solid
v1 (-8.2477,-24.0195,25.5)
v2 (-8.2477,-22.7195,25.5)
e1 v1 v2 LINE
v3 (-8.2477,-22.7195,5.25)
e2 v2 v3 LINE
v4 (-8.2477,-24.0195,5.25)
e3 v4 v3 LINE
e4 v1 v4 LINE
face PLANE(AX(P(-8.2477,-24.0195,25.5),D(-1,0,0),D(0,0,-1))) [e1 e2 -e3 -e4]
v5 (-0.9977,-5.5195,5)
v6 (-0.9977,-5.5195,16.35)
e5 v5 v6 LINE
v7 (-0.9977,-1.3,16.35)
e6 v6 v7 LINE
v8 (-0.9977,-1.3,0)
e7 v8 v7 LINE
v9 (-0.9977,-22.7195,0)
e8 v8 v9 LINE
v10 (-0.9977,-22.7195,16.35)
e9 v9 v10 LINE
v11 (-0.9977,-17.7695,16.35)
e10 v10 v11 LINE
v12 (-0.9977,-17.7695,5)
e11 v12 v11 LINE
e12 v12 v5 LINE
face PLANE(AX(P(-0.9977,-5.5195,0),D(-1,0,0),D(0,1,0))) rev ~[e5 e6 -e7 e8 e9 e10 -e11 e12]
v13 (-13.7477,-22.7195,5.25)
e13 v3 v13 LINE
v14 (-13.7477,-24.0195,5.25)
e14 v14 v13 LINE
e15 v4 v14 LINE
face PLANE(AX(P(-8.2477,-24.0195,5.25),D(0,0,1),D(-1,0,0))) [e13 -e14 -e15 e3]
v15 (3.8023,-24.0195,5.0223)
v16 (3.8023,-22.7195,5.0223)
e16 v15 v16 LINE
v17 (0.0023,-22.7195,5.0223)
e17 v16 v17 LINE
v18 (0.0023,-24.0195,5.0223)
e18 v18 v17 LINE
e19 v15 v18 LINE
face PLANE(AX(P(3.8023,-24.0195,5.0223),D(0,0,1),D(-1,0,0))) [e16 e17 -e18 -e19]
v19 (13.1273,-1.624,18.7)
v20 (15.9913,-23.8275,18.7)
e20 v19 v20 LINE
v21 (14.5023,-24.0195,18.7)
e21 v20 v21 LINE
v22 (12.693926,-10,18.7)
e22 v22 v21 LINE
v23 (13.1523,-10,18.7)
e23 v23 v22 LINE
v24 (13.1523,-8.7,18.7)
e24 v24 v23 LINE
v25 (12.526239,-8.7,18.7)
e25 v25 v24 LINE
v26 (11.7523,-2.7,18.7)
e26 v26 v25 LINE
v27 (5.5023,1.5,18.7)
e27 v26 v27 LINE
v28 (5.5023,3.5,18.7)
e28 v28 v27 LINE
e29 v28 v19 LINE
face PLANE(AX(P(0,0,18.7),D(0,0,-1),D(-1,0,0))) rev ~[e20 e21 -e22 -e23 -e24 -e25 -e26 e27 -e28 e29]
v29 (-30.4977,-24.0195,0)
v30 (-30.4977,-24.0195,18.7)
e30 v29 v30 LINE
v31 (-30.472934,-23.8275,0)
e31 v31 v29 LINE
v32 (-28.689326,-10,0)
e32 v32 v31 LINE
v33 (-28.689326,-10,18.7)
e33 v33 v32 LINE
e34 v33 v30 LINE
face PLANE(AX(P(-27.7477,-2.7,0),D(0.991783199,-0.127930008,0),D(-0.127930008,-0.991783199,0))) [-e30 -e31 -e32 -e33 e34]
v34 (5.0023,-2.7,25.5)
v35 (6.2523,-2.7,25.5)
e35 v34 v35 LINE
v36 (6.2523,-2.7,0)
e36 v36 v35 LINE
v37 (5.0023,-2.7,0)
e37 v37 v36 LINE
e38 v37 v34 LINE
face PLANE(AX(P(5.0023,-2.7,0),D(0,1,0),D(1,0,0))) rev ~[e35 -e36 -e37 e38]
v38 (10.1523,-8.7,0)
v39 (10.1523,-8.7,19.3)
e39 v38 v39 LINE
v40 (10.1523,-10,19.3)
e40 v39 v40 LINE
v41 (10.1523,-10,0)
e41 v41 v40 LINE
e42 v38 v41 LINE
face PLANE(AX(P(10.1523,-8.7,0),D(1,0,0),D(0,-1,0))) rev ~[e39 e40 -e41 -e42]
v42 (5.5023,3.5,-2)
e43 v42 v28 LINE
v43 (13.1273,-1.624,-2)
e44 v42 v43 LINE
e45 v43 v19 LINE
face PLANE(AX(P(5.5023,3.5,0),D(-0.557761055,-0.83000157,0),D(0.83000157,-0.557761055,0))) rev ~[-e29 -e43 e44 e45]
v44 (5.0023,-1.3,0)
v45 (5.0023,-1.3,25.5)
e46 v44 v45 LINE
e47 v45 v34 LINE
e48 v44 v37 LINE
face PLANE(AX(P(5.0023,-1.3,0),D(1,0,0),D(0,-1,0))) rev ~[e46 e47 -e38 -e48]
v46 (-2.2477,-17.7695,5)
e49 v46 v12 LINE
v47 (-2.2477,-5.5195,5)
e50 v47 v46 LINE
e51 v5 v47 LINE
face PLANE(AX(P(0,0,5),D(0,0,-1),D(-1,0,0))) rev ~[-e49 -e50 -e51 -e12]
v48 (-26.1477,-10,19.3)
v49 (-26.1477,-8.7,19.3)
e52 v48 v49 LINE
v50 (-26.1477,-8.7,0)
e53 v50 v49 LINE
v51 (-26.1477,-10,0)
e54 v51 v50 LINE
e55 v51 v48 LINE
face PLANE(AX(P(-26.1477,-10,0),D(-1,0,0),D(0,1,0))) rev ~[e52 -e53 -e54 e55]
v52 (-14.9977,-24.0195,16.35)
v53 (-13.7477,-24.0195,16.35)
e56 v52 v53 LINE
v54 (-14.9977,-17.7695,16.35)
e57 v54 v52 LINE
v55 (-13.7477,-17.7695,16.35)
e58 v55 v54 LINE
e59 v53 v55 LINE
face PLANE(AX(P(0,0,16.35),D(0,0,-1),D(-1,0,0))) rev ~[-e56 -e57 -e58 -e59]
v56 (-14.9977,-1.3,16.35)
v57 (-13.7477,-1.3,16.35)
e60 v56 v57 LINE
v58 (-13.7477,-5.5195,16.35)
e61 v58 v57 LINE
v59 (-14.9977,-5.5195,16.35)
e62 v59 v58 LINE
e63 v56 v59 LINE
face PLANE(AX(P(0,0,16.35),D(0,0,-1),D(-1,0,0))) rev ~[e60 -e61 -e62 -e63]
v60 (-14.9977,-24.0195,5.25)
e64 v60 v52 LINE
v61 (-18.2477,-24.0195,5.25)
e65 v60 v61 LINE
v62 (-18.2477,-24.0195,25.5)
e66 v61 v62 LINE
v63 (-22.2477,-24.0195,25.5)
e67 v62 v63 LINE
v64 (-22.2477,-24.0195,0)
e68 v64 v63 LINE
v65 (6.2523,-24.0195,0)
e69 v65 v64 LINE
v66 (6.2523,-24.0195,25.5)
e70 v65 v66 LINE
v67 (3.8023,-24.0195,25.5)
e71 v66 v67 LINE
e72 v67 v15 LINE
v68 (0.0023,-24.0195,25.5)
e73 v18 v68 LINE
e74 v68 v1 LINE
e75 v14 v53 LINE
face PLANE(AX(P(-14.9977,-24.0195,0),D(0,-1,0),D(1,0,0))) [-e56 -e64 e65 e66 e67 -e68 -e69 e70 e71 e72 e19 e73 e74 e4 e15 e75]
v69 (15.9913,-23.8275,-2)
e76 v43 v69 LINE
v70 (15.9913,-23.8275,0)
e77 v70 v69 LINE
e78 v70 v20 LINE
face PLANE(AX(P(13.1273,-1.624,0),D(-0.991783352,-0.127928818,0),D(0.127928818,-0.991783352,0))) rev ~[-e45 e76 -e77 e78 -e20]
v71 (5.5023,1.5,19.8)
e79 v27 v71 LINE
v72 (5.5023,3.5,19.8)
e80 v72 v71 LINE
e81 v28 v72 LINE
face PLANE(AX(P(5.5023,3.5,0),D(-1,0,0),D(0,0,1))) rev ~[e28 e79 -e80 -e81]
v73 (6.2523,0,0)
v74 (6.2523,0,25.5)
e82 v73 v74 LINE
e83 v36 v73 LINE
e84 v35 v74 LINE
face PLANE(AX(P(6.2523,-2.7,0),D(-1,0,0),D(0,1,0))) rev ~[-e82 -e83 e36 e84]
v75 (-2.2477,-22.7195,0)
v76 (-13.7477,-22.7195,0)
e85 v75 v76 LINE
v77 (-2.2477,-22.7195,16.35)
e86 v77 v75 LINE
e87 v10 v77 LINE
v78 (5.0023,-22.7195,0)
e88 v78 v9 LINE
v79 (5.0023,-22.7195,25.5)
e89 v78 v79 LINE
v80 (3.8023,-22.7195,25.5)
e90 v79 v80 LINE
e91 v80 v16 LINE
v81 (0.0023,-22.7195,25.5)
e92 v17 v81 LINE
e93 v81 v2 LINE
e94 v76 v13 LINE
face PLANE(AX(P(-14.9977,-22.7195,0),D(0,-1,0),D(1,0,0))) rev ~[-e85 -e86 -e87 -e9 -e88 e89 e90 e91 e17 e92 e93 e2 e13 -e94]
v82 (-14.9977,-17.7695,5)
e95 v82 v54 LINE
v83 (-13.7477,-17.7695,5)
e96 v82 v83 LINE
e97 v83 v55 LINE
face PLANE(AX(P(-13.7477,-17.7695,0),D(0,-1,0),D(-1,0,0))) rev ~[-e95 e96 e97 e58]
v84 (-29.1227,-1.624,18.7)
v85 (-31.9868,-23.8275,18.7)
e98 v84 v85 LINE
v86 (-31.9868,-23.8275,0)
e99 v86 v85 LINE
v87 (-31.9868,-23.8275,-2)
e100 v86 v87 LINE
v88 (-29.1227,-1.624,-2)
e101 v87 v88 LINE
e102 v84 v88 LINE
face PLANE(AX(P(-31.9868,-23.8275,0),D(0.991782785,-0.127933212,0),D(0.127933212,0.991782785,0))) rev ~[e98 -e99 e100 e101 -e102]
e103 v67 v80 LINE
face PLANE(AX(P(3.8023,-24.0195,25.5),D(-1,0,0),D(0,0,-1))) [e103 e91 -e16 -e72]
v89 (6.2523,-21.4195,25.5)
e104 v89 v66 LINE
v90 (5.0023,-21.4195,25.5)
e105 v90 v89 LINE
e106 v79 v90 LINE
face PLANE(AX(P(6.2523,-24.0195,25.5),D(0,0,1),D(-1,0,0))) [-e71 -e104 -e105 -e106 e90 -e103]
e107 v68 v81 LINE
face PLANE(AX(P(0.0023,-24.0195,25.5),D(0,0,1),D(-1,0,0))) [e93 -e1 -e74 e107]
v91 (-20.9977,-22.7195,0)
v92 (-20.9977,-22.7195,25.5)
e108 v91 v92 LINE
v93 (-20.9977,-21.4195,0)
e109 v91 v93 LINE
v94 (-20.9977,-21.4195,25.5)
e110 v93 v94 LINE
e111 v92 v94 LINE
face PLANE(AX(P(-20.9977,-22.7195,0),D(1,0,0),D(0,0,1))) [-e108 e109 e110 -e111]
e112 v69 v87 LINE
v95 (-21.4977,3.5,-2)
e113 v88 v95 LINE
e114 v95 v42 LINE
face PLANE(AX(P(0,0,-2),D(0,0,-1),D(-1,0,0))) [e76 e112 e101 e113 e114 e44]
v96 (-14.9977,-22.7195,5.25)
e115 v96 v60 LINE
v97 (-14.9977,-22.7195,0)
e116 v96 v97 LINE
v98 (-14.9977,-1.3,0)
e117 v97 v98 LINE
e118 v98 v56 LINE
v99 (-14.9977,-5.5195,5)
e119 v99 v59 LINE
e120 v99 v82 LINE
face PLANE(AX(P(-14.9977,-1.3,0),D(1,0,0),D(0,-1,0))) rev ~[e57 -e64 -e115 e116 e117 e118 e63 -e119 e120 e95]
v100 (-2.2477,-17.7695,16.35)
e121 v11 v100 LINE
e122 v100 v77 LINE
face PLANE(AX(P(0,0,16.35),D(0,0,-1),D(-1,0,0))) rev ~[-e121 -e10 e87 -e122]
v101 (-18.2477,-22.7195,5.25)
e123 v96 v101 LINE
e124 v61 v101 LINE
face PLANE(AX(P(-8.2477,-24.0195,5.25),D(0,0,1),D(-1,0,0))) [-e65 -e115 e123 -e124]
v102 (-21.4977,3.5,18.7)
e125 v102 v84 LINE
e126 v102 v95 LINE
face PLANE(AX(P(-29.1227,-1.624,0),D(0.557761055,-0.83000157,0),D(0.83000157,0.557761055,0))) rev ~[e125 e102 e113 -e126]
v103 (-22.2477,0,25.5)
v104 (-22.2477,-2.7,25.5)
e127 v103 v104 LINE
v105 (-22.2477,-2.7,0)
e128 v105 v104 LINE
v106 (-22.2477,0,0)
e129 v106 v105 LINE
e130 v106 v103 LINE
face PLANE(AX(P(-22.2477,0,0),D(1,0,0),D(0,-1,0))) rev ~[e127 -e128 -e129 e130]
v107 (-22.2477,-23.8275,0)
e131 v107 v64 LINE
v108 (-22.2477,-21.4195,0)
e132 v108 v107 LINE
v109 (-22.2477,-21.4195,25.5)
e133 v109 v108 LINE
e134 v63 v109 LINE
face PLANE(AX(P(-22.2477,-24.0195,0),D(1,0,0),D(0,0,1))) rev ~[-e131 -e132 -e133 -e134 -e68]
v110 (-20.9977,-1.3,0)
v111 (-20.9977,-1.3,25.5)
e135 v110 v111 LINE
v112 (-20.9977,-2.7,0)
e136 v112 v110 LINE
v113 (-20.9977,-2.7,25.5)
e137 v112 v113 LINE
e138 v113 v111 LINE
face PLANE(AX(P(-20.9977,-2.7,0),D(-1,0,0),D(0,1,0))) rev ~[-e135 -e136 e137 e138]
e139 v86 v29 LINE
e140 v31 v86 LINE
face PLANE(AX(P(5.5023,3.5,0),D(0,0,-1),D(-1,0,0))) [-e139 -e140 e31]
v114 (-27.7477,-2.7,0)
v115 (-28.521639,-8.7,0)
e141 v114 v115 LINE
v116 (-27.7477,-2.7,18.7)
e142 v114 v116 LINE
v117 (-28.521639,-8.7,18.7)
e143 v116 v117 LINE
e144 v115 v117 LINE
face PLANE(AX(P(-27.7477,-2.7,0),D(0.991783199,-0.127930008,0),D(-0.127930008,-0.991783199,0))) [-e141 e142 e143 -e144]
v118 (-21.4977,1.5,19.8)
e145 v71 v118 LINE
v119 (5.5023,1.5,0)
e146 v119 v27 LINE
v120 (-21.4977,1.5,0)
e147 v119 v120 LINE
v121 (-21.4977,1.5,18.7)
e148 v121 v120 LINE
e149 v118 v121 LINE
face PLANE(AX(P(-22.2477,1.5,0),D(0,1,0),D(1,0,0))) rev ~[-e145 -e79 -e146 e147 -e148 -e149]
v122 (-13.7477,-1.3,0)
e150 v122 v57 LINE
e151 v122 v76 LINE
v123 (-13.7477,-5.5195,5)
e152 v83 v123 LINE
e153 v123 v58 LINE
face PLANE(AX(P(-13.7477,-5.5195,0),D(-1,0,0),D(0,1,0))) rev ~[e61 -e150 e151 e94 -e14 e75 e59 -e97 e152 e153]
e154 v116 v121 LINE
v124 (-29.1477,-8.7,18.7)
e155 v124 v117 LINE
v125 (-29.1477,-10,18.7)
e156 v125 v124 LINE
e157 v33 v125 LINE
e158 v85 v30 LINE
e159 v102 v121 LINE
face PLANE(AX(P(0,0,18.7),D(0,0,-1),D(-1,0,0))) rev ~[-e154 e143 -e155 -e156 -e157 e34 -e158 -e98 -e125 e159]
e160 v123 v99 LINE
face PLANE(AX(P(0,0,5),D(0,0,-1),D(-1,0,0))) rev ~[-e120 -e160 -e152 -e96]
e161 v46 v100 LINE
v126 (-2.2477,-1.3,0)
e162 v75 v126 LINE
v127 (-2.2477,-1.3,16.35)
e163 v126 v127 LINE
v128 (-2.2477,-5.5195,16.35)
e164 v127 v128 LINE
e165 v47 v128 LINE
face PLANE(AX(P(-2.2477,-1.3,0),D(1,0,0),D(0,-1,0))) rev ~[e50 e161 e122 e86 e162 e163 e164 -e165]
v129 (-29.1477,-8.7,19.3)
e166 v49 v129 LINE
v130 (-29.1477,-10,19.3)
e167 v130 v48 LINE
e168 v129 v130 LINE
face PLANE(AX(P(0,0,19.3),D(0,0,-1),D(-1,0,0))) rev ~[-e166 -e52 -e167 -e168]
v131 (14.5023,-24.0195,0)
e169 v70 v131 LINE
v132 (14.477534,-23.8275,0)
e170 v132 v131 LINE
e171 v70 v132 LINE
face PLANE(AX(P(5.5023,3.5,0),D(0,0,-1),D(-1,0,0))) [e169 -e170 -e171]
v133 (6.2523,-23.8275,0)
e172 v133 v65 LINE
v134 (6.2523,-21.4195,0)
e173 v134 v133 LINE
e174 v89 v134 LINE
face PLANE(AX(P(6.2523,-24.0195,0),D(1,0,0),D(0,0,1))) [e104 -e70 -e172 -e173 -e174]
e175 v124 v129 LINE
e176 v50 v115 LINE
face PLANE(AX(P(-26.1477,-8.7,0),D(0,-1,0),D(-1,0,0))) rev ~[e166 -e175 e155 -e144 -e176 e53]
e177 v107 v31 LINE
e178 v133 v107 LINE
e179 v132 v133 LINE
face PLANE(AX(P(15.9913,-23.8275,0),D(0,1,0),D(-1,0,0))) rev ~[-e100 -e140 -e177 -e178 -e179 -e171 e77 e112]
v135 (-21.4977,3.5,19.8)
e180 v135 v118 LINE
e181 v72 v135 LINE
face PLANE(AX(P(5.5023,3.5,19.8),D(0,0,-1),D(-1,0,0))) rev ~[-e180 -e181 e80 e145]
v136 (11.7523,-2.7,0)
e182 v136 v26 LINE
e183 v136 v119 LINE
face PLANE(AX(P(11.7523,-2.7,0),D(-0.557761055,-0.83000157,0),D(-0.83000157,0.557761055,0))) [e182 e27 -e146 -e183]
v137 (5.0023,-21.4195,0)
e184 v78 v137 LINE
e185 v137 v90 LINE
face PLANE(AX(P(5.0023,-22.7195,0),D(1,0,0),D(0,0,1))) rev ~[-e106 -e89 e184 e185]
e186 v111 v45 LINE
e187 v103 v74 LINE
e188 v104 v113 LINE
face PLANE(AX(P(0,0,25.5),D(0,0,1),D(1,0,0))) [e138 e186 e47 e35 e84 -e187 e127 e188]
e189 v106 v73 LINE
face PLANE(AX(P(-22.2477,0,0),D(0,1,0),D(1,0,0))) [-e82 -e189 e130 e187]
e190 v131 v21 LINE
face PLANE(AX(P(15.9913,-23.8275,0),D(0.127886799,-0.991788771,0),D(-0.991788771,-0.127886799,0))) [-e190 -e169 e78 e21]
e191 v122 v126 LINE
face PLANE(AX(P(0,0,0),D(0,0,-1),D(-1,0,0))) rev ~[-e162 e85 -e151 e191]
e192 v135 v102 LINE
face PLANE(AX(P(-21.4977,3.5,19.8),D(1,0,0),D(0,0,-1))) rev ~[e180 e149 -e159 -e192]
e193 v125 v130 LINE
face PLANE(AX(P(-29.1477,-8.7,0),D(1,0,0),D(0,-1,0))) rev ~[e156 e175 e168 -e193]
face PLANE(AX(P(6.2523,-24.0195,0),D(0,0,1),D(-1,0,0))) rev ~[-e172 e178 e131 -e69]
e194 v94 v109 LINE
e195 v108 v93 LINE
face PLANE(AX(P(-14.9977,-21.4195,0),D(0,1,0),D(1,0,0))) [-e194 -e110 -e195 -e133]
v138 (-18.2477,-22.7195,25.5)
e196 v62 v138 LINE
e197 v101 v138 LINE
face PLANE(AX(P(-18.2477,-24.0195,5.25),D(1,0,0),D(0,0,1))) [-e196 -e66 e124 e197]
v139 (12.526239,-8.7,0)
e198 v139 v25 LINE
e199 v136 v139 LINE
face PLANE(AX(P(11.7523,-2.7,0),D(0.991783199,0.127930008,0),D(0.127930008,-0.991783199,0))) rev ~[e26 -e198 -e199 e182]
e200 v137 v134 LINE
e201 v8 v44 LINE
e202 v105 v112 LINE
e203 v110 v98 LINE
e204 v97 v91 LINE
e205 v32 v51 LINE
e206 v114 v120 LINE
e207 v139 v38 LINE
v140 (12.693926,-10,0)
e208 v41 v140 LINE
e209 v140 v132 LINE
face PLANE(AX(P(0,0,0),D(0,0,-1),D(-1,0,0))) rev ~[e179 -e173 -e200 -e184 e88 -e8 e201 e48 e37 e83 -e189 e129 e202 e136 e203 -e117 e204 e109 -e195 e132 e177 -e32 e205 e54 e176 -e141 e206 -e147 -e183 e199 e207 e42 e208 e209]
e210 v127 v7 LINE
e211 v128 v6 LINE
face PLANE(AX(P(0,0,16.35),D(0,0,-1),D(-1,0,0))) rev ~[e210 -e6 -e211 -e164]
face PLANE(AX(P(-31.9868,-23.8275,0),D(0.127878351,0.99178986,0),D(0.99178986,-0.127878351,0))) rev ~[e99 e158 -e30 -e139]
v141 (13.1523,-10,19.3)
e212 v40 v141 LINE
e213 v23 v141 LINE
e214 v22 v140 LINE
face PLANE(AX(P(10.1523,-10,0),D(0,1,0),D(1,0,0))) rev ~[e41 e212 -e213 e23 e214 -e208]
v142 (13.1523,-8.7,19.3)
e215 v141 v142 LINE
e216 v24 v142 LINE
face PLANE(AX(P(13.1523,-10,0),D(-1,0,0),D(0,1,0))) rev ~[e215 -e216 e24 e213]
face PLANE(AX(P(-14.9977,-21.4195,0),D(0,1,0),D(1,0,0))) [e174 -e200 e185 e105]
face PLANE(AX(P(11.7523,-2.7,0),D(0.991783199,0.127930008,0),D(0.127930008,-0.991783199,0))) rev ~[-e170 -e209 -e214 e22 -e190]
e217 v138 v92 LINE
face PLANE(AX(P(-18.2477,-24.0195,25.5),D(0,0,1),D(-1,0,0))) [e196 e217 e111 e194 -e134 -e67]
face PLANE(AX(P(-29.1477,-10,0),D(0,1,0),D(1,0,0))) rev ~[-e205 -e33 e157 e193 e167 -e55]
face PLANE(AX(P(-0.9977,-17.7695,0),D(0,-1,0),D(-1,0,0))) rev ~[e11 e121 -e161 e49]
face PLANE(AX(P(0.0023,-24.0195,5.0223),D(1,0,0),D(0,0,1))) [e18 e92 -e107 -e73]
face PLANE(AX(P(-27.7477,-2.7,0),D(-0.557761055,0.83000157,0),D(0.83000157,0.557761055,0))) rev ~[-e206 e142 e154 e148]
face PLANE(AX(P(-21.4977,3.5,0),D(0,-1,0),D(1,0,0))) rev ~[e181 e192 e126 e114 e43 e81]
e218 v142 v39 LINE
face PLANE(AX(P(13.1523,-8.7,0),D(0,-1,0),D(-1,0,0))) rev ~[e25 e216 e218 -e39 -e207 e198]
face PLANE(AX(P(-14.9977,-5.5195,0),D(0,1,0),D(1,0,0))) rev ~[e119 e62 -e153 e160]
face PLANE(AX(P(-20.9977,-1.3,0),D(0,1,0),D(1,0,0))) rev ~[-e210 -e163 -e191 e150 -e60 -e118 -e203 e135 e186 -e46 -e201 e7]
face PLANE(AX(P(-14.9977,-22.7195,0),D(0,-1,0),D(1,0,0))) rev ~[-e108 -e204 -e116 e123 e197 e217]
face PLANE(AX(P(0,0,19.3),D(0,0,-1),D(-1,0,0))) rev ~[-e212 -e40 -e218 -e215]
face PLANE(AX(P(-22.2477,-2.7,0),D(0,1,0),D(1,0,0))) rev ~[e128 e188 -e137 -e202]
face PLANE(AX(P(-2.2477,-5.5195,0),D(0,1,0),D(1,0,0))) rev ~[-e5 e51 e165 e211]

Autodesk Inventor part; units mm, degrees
ref_plane "YZ Plane" through (0, 0, 0) normal (1, 0, 0) x (0, 1, 0)
ref_plane "XZ Plane" through (0, 0, 0) normal (0, 1, 0) x (-1, 0, 0)
ref_plane "XY Plane" through (0, 0, 0) normal (0, 0, 1) x (1, 0, 0)
sketch "Skizze1" plane through (0, 0, 0) normal (0, 0, 1) x (1, 0, 0)
  line L0 (-20.9977, -1.3) -> (5.0023, -1.3)
  line L1 (-22.2477, 0) -> (6.2523, 0)
  line L2 (-22.2477, 0) -> (-22.2477, -2.7)
  line L3 (-22.2477, -2.7) -> (-20.9977, -2.7)
  line L4 (-20.9977, -2.7) -> (-20.9977, -1.3)
  line L5 (5.0023, -1.3) -> (5.0023, -2.7)
  line L6 (5.0023, -2.7) -> (6.2523, -2.7)
  line L7 (6.2523, -2.7) -> (6.2523, 0)
  point P0 (0, 0)
  dimension "d0" = 26
  dimension "d1" = 28.5
  dimension "d2" = 1.25
  dimension "d33" = 1.3
  dimension "d37" = 2.7
  dimension "d38" = 2.7
  dimension "d39" = 0
extrude "Extrusion1" add sketch "Skizze1" along normal blind 25.5
sketch "Skizze2" plane through (0, 0, 0) normal (0, 0, -1) x (-1, 0, 0)
  line L0 (20.9977, -1.3) -> (-5.0023, -1.3) projected
  line L1 (20.9977, -2.7) -> (20.9977, -1.3) projected
  line L2 (-5.0023, -1.3) -> (-5.0023, -2.7) projected
  line L3 (0.9977, -1.3) -> (2.2477, -1.3)
  line L4 (2.2477, -1.3) -> (2.2477, -5.5195)
  line L5 (2.2477, -5.5195) -> (0.9977, -5.5195)
  line L6 (0.9977, -5.5195) -> (0.9977, -1.3)
  line L7 (13.7477, -1.3) -> (14.9977, -1.3)
  line L8 (14.9977, -1.3) -> (14.9977, -5.5195)
  line L9 (14.9977, -5.5195) -> (13.7477, -5.5195)
  line L10 (13.7477, -5.5195) -> (13.7477, -1.3)
  point P0 (0, 0)
  dimension "d5" = 11.5
  dimension "d6" = 1.25
  dimension "d7" = 1.25
  dimension "d8" = 6
  dimension "d9" = 6
extrude "Extrusion2" add sketch "Skizze2" against normal blind 16.35
sketch "Skizze3" plane through (0, 0, 0) normal (0, 0, -1) x (-1, 0, 0)
  line L0 (0.9977, -5.5195) -> (2.2477, -5.5195)
  line L1 (2.2477, -5.5195) -> (2.2477, -17.7695)
  line L2 (2.2477, -17.7695) -> (0.9977, -17.7695)
  line L3 (0.9977, -17.7695) -> (0.9977, -5.5195)
  line L4 (13.7477, -5.5195) -> (14.9977, -5.5195)
  line L5 (14.9977, -5.5195) -> (14.9977, -17.7695)
  line L6 (14.9977, -17.7695) -> (13.7477, -17.7695)
  line L7 (13.7477, -17.7695) -> (13.7477, -5.5195)
  point P0 (0, 0)
  dimension "d12" = 12.25
  dimension "d15" = 12.25
extrude "Extrusion3" add sketch "Skizze3" against normal blind 5
sketch "Skizze4" plane through (0, 0, 0) normal (0, 0, -1) x (-1, 0, 0)
  line L0 (0.9977, -17.7695) -> (2.2477, -17.7695)
  line L1 (2.2477, -17.7695) -> (2.2477, -24.0195)
  line L2 (2.2477, -24.0195) -> (0.9977, -24.0195)
  line L3 (0.9977, -24.0195) -> (0.9977, -17.7695)
  line L4 (13.7477, -17.7695) -> (14.9977, -17.7695)
  line L5 (14.9977, -17.7695) -> (14.9977, -24.0195)
  line L6 (14.9977, -24.0195) -> (13.7477, -24.0195)
  line L7 (13.7477, -24.0195) -> (13.7477, -17.7695)
  point P0 (0, 0)
  dimension "d16" = 6.25
  dimension "d17" = 6.25
extrude "Extrusion4" add sketch "Skizze4" against normal blind 16.35
sketch "Skizze5" plane through (-14.9977, -24.0195, 0) normal (0, -1, 0) x (1, 0, 0)
  line L0 (-7.25, 0) -> (-7.25, 25.5) projected
  line L1 (21.25, 0) -> (21.25, 25.5) projected
  line L2 (-7.25, 25.5) -> (-7.25, 0)
  line L3 (21.25, 0) -> (-7.25, 0)
  line L4 (21.25, 0) -> (21.25, 25.5)
  line L5 (21.25, 25.5) -> (18.8, 25.5)
  line L6 (18.8, 25.5) -> (18.8, 5.0223)
  line L7 (18.8, 5.0223) -> (15, 5.0223)
  line L8 (15, 5.0223) -> (15, 25.5)
  line L9 (15, 25.5) -> (6.75, 25.5)
  line L10 (6.75, 25.5) -> (6.75, 5.25)
  line L11 (6.75, 5.25) -> (-3.25, 5.25)
  line L12 (-3.25, 5.25) -> (-3.25, 25.5)
  line L13 (-3.25, 25.5) -> (-7.25, 25.5)
  point P0 (14.9977, 0)
  dimension "d20" = 5.25
  dimension "d21" = 8.25
  dimension "d22" = 3.8
  dimension "d23" = 10
  dimension "d24" = 4
  dimension "d25" = 2.45
extrude "Extrusion5" add sketch "Skizze5" against normal blind 1.3
sketch "Skizze6" plane through (-14.9977, -22.7195, 0) normal (0, 1, 0) x (1, 0, 0)
  line L0 (-3.25, -25.5) -> (-7.25, -25.5) projected
  line L1 (14, 0) -> (21.25, 0) projected
  line L2 (21.25, -25.5) -> (21.25, 0)
  line L3 (-7.25, 0) -> (-6, 0)
  line L4 (-6, 0) -> (-6, -25.5)
  line L5 (-6, -25.5) -> (-7.25, -25.5)
  line L6 (-7.25, -25.5) -> (-7.25, 0)
  line L7 (21.25, 0) -> (20, 0)
  line L8 (20, 0) -> (20, -25.5)
  line L9 (20, -25.5) -> (21.25, -25.5)
  line L10 (21.25, -25.5) -> (21.25, 0)
  point P0 (14.9977, 0)
  point P1 (18.8, -25.5)
  dimension "d28" = 1.25
  dimension "d30" = 1.25
extrude "Extrusion6" add sketch "Skizze6" along normal blind 1.3
sketch "Skizze7" plane through (0, 0, 0) normal (0, 0, -1) x (-1, 0, 0)
  line L0 (22.2477, 0) -> (22.2477, -2.7) projected
  line L1 (-6.2523, -2.7) -> (-6.2523, 0) projected
  line L2 (-13.1523, -8.7) -> (-10.1523, -8.7)
  line L3 (-10.1523, -8.7) -> (-10.1523, -10)
  line L4 (-10.1523, -10) -> (-13.1523, -10)
  line L5 (-13.1523, -10) -> (-13.1523, -8.7)
  line L6 (26.1477, -8.7) -> (29.1477, -8.7)
  line L7 (29.1477, -8.7) -> (29.1477, -10)
  line L8 (29.1477, -10) -> (26.1477, -10)
  line L9 (26.1477, -10) -> (26.1477, -8.7)
  line L10 (22.2477, -2.7) -> (20.9977, -2.7) projected
  line L11 (-5.0023, -2.7) -> (-6.2523, -2.7) projected
  point P0 (0, 0)
  dimension "d40" = 3.9
  dimension "d41" = 3.9
  dimension "d42" = 1.3
  dimension "d43" = 3
  dimension "d44" = 3
  dimension "d45" = 1.3
  dimension "d68" = 6
  dimension "d69" = 6
extrude "Extrusion7" add sketch "Skizze7" against normal blind 19.3
ref_plane "Arbeitsebene1" through (-22.2477, 3.5, 0) normal (0, 1, 0) x (1, 0, 0)
sketch "Skizze9" plane through (-22.2477, 3.5, 0) normal (0, 1, 0) x (1, 0, 0)
  line L0 (28.5, 0) -> (28.5, -25.5)
  line L1 (28.5, 0) -> (0, 0)
  line L2 (0, 0) -> (0, -25.5)
  line L3 (0.75, 0) -> (27.75, 0)
  line L4 (27.75, 0) -> (27.75, -19.8)
  line L5 (27.75, -19.8) -> (0.75, -19.8)
  line L6 (0.75, -19.8) -> (0.75, 0)
  point P0 (22.2477, 0)
  point P1 (22.2477, 0)
  dimension "d55" = 27
  dimension "d56" = 19.8
  dimension "d57" = 0.75
  dimension "d58" = 0.75
extrude "Extrusion9" add sketch "Skizze9" against normal blind 2
sketch "Skizze11" plane through (0, 0, 0) normal (0, 0, -1) x (-1, 0, 0)
  line L0 (22.2477, -24.0195) -> (22.2477, -21.4195) projected
  line L1 (22.2477, 0) -> (22.2477, -2.7) projected
  line L2 (-6.2523, -2.7) -> (-6.2523, 0) projected
  line L3 (-6.2523, -24.0195) -> (-6.2523, -21.4195) projected
  line L4 (-11.7523, -2.7) -> (-14.5023, -24.0195)
  line L5 (27.7477, -2.7) -> (30.4977, -24.0195)
  line L6 (-5.5023, 3.5) -> (-5.5023, 1.5) projected
  line L7 (21.4977, 3.5) -> (21.4977, 1.5) projected
  line L8 (-11.7523, -2.7) -> (-5.5023, 1.5)
  line L9 (-5.5023, 1.5) -> (-5.5023, 3.5)
  line L10 (27.7477, -2.7) -> (21.4977, 1.5)
  line L11 (21.4977, 1.5) -> (21.4977, 3.5)
  line L12 (21.4977, 3.5) -> (29.1227, -1.624)
  line L13 (29.1227, -1.624) -> (31.9868, -23.8275)
  line L14 (31.9868, -23.8275) -> (30.4977, -24.0195)
  line L15 (-5.5023, 1.5) -> (-5.5023, 3.5)
  line L16 (-5.5023, 3.5) -> (-13.1273, -1.624)
  line L17 (-13.1273, -1.624) -> (-15.9913, -23.8275)
  line L18 (-15.9913, -23.8275) -> (-14.5023, -24.0195)
  point P0 (0, 0)
  dimension "d65" = 28.5
  dimension "d66" = 8.25
  dimension "d67" = 8.25
  dimension "d70" = 5.5
  dimension "d71" = 5.5
extrude "Extrusion10" add sketch "Skizze11" against normal blind 18.7
sketch "Skizze12" plane through (0, 0, 0) normal (0, 0, -1) x (-1, 0, 0)
  line L0 (31.9868, -23.8275) -> (29.1227, -1.624) projected
  line L1 (29.1227, -1.624) -> (21.4977, 3.5) projected
  line L2 (21.4977, 3.5) -> (-5.5023, 3.5) projected
  line L3 (-5.5023, 3.5) -> (-13.1273, -1.624) projected
  line L4 (-13.1273, -1.624) -> (-15.9913, -23.8275) projected
  line L5 (-15.9913, -23.8275) -> (31.9868, -23.8275)
  point P0 (0, 0)
extrude "Extrusion11" add sketch "Skizze12" along normal blind 2
equation "\"d38\" = d37"
equation "\"d7\" = d6"
equation "\"d15\" = d12"
equation "\"d17\" = d16"
equation "\"d41\" = d40"
equation "\"d44\" = d43"
equation "\"d45\" = d42"
equation "\"d69\" = d68"
equation "\"d57\" = d58"
equation "\"d66\" = d67"
equation "\"d70\" = d71"
properties part number "conrad_schaltsteckdose"
